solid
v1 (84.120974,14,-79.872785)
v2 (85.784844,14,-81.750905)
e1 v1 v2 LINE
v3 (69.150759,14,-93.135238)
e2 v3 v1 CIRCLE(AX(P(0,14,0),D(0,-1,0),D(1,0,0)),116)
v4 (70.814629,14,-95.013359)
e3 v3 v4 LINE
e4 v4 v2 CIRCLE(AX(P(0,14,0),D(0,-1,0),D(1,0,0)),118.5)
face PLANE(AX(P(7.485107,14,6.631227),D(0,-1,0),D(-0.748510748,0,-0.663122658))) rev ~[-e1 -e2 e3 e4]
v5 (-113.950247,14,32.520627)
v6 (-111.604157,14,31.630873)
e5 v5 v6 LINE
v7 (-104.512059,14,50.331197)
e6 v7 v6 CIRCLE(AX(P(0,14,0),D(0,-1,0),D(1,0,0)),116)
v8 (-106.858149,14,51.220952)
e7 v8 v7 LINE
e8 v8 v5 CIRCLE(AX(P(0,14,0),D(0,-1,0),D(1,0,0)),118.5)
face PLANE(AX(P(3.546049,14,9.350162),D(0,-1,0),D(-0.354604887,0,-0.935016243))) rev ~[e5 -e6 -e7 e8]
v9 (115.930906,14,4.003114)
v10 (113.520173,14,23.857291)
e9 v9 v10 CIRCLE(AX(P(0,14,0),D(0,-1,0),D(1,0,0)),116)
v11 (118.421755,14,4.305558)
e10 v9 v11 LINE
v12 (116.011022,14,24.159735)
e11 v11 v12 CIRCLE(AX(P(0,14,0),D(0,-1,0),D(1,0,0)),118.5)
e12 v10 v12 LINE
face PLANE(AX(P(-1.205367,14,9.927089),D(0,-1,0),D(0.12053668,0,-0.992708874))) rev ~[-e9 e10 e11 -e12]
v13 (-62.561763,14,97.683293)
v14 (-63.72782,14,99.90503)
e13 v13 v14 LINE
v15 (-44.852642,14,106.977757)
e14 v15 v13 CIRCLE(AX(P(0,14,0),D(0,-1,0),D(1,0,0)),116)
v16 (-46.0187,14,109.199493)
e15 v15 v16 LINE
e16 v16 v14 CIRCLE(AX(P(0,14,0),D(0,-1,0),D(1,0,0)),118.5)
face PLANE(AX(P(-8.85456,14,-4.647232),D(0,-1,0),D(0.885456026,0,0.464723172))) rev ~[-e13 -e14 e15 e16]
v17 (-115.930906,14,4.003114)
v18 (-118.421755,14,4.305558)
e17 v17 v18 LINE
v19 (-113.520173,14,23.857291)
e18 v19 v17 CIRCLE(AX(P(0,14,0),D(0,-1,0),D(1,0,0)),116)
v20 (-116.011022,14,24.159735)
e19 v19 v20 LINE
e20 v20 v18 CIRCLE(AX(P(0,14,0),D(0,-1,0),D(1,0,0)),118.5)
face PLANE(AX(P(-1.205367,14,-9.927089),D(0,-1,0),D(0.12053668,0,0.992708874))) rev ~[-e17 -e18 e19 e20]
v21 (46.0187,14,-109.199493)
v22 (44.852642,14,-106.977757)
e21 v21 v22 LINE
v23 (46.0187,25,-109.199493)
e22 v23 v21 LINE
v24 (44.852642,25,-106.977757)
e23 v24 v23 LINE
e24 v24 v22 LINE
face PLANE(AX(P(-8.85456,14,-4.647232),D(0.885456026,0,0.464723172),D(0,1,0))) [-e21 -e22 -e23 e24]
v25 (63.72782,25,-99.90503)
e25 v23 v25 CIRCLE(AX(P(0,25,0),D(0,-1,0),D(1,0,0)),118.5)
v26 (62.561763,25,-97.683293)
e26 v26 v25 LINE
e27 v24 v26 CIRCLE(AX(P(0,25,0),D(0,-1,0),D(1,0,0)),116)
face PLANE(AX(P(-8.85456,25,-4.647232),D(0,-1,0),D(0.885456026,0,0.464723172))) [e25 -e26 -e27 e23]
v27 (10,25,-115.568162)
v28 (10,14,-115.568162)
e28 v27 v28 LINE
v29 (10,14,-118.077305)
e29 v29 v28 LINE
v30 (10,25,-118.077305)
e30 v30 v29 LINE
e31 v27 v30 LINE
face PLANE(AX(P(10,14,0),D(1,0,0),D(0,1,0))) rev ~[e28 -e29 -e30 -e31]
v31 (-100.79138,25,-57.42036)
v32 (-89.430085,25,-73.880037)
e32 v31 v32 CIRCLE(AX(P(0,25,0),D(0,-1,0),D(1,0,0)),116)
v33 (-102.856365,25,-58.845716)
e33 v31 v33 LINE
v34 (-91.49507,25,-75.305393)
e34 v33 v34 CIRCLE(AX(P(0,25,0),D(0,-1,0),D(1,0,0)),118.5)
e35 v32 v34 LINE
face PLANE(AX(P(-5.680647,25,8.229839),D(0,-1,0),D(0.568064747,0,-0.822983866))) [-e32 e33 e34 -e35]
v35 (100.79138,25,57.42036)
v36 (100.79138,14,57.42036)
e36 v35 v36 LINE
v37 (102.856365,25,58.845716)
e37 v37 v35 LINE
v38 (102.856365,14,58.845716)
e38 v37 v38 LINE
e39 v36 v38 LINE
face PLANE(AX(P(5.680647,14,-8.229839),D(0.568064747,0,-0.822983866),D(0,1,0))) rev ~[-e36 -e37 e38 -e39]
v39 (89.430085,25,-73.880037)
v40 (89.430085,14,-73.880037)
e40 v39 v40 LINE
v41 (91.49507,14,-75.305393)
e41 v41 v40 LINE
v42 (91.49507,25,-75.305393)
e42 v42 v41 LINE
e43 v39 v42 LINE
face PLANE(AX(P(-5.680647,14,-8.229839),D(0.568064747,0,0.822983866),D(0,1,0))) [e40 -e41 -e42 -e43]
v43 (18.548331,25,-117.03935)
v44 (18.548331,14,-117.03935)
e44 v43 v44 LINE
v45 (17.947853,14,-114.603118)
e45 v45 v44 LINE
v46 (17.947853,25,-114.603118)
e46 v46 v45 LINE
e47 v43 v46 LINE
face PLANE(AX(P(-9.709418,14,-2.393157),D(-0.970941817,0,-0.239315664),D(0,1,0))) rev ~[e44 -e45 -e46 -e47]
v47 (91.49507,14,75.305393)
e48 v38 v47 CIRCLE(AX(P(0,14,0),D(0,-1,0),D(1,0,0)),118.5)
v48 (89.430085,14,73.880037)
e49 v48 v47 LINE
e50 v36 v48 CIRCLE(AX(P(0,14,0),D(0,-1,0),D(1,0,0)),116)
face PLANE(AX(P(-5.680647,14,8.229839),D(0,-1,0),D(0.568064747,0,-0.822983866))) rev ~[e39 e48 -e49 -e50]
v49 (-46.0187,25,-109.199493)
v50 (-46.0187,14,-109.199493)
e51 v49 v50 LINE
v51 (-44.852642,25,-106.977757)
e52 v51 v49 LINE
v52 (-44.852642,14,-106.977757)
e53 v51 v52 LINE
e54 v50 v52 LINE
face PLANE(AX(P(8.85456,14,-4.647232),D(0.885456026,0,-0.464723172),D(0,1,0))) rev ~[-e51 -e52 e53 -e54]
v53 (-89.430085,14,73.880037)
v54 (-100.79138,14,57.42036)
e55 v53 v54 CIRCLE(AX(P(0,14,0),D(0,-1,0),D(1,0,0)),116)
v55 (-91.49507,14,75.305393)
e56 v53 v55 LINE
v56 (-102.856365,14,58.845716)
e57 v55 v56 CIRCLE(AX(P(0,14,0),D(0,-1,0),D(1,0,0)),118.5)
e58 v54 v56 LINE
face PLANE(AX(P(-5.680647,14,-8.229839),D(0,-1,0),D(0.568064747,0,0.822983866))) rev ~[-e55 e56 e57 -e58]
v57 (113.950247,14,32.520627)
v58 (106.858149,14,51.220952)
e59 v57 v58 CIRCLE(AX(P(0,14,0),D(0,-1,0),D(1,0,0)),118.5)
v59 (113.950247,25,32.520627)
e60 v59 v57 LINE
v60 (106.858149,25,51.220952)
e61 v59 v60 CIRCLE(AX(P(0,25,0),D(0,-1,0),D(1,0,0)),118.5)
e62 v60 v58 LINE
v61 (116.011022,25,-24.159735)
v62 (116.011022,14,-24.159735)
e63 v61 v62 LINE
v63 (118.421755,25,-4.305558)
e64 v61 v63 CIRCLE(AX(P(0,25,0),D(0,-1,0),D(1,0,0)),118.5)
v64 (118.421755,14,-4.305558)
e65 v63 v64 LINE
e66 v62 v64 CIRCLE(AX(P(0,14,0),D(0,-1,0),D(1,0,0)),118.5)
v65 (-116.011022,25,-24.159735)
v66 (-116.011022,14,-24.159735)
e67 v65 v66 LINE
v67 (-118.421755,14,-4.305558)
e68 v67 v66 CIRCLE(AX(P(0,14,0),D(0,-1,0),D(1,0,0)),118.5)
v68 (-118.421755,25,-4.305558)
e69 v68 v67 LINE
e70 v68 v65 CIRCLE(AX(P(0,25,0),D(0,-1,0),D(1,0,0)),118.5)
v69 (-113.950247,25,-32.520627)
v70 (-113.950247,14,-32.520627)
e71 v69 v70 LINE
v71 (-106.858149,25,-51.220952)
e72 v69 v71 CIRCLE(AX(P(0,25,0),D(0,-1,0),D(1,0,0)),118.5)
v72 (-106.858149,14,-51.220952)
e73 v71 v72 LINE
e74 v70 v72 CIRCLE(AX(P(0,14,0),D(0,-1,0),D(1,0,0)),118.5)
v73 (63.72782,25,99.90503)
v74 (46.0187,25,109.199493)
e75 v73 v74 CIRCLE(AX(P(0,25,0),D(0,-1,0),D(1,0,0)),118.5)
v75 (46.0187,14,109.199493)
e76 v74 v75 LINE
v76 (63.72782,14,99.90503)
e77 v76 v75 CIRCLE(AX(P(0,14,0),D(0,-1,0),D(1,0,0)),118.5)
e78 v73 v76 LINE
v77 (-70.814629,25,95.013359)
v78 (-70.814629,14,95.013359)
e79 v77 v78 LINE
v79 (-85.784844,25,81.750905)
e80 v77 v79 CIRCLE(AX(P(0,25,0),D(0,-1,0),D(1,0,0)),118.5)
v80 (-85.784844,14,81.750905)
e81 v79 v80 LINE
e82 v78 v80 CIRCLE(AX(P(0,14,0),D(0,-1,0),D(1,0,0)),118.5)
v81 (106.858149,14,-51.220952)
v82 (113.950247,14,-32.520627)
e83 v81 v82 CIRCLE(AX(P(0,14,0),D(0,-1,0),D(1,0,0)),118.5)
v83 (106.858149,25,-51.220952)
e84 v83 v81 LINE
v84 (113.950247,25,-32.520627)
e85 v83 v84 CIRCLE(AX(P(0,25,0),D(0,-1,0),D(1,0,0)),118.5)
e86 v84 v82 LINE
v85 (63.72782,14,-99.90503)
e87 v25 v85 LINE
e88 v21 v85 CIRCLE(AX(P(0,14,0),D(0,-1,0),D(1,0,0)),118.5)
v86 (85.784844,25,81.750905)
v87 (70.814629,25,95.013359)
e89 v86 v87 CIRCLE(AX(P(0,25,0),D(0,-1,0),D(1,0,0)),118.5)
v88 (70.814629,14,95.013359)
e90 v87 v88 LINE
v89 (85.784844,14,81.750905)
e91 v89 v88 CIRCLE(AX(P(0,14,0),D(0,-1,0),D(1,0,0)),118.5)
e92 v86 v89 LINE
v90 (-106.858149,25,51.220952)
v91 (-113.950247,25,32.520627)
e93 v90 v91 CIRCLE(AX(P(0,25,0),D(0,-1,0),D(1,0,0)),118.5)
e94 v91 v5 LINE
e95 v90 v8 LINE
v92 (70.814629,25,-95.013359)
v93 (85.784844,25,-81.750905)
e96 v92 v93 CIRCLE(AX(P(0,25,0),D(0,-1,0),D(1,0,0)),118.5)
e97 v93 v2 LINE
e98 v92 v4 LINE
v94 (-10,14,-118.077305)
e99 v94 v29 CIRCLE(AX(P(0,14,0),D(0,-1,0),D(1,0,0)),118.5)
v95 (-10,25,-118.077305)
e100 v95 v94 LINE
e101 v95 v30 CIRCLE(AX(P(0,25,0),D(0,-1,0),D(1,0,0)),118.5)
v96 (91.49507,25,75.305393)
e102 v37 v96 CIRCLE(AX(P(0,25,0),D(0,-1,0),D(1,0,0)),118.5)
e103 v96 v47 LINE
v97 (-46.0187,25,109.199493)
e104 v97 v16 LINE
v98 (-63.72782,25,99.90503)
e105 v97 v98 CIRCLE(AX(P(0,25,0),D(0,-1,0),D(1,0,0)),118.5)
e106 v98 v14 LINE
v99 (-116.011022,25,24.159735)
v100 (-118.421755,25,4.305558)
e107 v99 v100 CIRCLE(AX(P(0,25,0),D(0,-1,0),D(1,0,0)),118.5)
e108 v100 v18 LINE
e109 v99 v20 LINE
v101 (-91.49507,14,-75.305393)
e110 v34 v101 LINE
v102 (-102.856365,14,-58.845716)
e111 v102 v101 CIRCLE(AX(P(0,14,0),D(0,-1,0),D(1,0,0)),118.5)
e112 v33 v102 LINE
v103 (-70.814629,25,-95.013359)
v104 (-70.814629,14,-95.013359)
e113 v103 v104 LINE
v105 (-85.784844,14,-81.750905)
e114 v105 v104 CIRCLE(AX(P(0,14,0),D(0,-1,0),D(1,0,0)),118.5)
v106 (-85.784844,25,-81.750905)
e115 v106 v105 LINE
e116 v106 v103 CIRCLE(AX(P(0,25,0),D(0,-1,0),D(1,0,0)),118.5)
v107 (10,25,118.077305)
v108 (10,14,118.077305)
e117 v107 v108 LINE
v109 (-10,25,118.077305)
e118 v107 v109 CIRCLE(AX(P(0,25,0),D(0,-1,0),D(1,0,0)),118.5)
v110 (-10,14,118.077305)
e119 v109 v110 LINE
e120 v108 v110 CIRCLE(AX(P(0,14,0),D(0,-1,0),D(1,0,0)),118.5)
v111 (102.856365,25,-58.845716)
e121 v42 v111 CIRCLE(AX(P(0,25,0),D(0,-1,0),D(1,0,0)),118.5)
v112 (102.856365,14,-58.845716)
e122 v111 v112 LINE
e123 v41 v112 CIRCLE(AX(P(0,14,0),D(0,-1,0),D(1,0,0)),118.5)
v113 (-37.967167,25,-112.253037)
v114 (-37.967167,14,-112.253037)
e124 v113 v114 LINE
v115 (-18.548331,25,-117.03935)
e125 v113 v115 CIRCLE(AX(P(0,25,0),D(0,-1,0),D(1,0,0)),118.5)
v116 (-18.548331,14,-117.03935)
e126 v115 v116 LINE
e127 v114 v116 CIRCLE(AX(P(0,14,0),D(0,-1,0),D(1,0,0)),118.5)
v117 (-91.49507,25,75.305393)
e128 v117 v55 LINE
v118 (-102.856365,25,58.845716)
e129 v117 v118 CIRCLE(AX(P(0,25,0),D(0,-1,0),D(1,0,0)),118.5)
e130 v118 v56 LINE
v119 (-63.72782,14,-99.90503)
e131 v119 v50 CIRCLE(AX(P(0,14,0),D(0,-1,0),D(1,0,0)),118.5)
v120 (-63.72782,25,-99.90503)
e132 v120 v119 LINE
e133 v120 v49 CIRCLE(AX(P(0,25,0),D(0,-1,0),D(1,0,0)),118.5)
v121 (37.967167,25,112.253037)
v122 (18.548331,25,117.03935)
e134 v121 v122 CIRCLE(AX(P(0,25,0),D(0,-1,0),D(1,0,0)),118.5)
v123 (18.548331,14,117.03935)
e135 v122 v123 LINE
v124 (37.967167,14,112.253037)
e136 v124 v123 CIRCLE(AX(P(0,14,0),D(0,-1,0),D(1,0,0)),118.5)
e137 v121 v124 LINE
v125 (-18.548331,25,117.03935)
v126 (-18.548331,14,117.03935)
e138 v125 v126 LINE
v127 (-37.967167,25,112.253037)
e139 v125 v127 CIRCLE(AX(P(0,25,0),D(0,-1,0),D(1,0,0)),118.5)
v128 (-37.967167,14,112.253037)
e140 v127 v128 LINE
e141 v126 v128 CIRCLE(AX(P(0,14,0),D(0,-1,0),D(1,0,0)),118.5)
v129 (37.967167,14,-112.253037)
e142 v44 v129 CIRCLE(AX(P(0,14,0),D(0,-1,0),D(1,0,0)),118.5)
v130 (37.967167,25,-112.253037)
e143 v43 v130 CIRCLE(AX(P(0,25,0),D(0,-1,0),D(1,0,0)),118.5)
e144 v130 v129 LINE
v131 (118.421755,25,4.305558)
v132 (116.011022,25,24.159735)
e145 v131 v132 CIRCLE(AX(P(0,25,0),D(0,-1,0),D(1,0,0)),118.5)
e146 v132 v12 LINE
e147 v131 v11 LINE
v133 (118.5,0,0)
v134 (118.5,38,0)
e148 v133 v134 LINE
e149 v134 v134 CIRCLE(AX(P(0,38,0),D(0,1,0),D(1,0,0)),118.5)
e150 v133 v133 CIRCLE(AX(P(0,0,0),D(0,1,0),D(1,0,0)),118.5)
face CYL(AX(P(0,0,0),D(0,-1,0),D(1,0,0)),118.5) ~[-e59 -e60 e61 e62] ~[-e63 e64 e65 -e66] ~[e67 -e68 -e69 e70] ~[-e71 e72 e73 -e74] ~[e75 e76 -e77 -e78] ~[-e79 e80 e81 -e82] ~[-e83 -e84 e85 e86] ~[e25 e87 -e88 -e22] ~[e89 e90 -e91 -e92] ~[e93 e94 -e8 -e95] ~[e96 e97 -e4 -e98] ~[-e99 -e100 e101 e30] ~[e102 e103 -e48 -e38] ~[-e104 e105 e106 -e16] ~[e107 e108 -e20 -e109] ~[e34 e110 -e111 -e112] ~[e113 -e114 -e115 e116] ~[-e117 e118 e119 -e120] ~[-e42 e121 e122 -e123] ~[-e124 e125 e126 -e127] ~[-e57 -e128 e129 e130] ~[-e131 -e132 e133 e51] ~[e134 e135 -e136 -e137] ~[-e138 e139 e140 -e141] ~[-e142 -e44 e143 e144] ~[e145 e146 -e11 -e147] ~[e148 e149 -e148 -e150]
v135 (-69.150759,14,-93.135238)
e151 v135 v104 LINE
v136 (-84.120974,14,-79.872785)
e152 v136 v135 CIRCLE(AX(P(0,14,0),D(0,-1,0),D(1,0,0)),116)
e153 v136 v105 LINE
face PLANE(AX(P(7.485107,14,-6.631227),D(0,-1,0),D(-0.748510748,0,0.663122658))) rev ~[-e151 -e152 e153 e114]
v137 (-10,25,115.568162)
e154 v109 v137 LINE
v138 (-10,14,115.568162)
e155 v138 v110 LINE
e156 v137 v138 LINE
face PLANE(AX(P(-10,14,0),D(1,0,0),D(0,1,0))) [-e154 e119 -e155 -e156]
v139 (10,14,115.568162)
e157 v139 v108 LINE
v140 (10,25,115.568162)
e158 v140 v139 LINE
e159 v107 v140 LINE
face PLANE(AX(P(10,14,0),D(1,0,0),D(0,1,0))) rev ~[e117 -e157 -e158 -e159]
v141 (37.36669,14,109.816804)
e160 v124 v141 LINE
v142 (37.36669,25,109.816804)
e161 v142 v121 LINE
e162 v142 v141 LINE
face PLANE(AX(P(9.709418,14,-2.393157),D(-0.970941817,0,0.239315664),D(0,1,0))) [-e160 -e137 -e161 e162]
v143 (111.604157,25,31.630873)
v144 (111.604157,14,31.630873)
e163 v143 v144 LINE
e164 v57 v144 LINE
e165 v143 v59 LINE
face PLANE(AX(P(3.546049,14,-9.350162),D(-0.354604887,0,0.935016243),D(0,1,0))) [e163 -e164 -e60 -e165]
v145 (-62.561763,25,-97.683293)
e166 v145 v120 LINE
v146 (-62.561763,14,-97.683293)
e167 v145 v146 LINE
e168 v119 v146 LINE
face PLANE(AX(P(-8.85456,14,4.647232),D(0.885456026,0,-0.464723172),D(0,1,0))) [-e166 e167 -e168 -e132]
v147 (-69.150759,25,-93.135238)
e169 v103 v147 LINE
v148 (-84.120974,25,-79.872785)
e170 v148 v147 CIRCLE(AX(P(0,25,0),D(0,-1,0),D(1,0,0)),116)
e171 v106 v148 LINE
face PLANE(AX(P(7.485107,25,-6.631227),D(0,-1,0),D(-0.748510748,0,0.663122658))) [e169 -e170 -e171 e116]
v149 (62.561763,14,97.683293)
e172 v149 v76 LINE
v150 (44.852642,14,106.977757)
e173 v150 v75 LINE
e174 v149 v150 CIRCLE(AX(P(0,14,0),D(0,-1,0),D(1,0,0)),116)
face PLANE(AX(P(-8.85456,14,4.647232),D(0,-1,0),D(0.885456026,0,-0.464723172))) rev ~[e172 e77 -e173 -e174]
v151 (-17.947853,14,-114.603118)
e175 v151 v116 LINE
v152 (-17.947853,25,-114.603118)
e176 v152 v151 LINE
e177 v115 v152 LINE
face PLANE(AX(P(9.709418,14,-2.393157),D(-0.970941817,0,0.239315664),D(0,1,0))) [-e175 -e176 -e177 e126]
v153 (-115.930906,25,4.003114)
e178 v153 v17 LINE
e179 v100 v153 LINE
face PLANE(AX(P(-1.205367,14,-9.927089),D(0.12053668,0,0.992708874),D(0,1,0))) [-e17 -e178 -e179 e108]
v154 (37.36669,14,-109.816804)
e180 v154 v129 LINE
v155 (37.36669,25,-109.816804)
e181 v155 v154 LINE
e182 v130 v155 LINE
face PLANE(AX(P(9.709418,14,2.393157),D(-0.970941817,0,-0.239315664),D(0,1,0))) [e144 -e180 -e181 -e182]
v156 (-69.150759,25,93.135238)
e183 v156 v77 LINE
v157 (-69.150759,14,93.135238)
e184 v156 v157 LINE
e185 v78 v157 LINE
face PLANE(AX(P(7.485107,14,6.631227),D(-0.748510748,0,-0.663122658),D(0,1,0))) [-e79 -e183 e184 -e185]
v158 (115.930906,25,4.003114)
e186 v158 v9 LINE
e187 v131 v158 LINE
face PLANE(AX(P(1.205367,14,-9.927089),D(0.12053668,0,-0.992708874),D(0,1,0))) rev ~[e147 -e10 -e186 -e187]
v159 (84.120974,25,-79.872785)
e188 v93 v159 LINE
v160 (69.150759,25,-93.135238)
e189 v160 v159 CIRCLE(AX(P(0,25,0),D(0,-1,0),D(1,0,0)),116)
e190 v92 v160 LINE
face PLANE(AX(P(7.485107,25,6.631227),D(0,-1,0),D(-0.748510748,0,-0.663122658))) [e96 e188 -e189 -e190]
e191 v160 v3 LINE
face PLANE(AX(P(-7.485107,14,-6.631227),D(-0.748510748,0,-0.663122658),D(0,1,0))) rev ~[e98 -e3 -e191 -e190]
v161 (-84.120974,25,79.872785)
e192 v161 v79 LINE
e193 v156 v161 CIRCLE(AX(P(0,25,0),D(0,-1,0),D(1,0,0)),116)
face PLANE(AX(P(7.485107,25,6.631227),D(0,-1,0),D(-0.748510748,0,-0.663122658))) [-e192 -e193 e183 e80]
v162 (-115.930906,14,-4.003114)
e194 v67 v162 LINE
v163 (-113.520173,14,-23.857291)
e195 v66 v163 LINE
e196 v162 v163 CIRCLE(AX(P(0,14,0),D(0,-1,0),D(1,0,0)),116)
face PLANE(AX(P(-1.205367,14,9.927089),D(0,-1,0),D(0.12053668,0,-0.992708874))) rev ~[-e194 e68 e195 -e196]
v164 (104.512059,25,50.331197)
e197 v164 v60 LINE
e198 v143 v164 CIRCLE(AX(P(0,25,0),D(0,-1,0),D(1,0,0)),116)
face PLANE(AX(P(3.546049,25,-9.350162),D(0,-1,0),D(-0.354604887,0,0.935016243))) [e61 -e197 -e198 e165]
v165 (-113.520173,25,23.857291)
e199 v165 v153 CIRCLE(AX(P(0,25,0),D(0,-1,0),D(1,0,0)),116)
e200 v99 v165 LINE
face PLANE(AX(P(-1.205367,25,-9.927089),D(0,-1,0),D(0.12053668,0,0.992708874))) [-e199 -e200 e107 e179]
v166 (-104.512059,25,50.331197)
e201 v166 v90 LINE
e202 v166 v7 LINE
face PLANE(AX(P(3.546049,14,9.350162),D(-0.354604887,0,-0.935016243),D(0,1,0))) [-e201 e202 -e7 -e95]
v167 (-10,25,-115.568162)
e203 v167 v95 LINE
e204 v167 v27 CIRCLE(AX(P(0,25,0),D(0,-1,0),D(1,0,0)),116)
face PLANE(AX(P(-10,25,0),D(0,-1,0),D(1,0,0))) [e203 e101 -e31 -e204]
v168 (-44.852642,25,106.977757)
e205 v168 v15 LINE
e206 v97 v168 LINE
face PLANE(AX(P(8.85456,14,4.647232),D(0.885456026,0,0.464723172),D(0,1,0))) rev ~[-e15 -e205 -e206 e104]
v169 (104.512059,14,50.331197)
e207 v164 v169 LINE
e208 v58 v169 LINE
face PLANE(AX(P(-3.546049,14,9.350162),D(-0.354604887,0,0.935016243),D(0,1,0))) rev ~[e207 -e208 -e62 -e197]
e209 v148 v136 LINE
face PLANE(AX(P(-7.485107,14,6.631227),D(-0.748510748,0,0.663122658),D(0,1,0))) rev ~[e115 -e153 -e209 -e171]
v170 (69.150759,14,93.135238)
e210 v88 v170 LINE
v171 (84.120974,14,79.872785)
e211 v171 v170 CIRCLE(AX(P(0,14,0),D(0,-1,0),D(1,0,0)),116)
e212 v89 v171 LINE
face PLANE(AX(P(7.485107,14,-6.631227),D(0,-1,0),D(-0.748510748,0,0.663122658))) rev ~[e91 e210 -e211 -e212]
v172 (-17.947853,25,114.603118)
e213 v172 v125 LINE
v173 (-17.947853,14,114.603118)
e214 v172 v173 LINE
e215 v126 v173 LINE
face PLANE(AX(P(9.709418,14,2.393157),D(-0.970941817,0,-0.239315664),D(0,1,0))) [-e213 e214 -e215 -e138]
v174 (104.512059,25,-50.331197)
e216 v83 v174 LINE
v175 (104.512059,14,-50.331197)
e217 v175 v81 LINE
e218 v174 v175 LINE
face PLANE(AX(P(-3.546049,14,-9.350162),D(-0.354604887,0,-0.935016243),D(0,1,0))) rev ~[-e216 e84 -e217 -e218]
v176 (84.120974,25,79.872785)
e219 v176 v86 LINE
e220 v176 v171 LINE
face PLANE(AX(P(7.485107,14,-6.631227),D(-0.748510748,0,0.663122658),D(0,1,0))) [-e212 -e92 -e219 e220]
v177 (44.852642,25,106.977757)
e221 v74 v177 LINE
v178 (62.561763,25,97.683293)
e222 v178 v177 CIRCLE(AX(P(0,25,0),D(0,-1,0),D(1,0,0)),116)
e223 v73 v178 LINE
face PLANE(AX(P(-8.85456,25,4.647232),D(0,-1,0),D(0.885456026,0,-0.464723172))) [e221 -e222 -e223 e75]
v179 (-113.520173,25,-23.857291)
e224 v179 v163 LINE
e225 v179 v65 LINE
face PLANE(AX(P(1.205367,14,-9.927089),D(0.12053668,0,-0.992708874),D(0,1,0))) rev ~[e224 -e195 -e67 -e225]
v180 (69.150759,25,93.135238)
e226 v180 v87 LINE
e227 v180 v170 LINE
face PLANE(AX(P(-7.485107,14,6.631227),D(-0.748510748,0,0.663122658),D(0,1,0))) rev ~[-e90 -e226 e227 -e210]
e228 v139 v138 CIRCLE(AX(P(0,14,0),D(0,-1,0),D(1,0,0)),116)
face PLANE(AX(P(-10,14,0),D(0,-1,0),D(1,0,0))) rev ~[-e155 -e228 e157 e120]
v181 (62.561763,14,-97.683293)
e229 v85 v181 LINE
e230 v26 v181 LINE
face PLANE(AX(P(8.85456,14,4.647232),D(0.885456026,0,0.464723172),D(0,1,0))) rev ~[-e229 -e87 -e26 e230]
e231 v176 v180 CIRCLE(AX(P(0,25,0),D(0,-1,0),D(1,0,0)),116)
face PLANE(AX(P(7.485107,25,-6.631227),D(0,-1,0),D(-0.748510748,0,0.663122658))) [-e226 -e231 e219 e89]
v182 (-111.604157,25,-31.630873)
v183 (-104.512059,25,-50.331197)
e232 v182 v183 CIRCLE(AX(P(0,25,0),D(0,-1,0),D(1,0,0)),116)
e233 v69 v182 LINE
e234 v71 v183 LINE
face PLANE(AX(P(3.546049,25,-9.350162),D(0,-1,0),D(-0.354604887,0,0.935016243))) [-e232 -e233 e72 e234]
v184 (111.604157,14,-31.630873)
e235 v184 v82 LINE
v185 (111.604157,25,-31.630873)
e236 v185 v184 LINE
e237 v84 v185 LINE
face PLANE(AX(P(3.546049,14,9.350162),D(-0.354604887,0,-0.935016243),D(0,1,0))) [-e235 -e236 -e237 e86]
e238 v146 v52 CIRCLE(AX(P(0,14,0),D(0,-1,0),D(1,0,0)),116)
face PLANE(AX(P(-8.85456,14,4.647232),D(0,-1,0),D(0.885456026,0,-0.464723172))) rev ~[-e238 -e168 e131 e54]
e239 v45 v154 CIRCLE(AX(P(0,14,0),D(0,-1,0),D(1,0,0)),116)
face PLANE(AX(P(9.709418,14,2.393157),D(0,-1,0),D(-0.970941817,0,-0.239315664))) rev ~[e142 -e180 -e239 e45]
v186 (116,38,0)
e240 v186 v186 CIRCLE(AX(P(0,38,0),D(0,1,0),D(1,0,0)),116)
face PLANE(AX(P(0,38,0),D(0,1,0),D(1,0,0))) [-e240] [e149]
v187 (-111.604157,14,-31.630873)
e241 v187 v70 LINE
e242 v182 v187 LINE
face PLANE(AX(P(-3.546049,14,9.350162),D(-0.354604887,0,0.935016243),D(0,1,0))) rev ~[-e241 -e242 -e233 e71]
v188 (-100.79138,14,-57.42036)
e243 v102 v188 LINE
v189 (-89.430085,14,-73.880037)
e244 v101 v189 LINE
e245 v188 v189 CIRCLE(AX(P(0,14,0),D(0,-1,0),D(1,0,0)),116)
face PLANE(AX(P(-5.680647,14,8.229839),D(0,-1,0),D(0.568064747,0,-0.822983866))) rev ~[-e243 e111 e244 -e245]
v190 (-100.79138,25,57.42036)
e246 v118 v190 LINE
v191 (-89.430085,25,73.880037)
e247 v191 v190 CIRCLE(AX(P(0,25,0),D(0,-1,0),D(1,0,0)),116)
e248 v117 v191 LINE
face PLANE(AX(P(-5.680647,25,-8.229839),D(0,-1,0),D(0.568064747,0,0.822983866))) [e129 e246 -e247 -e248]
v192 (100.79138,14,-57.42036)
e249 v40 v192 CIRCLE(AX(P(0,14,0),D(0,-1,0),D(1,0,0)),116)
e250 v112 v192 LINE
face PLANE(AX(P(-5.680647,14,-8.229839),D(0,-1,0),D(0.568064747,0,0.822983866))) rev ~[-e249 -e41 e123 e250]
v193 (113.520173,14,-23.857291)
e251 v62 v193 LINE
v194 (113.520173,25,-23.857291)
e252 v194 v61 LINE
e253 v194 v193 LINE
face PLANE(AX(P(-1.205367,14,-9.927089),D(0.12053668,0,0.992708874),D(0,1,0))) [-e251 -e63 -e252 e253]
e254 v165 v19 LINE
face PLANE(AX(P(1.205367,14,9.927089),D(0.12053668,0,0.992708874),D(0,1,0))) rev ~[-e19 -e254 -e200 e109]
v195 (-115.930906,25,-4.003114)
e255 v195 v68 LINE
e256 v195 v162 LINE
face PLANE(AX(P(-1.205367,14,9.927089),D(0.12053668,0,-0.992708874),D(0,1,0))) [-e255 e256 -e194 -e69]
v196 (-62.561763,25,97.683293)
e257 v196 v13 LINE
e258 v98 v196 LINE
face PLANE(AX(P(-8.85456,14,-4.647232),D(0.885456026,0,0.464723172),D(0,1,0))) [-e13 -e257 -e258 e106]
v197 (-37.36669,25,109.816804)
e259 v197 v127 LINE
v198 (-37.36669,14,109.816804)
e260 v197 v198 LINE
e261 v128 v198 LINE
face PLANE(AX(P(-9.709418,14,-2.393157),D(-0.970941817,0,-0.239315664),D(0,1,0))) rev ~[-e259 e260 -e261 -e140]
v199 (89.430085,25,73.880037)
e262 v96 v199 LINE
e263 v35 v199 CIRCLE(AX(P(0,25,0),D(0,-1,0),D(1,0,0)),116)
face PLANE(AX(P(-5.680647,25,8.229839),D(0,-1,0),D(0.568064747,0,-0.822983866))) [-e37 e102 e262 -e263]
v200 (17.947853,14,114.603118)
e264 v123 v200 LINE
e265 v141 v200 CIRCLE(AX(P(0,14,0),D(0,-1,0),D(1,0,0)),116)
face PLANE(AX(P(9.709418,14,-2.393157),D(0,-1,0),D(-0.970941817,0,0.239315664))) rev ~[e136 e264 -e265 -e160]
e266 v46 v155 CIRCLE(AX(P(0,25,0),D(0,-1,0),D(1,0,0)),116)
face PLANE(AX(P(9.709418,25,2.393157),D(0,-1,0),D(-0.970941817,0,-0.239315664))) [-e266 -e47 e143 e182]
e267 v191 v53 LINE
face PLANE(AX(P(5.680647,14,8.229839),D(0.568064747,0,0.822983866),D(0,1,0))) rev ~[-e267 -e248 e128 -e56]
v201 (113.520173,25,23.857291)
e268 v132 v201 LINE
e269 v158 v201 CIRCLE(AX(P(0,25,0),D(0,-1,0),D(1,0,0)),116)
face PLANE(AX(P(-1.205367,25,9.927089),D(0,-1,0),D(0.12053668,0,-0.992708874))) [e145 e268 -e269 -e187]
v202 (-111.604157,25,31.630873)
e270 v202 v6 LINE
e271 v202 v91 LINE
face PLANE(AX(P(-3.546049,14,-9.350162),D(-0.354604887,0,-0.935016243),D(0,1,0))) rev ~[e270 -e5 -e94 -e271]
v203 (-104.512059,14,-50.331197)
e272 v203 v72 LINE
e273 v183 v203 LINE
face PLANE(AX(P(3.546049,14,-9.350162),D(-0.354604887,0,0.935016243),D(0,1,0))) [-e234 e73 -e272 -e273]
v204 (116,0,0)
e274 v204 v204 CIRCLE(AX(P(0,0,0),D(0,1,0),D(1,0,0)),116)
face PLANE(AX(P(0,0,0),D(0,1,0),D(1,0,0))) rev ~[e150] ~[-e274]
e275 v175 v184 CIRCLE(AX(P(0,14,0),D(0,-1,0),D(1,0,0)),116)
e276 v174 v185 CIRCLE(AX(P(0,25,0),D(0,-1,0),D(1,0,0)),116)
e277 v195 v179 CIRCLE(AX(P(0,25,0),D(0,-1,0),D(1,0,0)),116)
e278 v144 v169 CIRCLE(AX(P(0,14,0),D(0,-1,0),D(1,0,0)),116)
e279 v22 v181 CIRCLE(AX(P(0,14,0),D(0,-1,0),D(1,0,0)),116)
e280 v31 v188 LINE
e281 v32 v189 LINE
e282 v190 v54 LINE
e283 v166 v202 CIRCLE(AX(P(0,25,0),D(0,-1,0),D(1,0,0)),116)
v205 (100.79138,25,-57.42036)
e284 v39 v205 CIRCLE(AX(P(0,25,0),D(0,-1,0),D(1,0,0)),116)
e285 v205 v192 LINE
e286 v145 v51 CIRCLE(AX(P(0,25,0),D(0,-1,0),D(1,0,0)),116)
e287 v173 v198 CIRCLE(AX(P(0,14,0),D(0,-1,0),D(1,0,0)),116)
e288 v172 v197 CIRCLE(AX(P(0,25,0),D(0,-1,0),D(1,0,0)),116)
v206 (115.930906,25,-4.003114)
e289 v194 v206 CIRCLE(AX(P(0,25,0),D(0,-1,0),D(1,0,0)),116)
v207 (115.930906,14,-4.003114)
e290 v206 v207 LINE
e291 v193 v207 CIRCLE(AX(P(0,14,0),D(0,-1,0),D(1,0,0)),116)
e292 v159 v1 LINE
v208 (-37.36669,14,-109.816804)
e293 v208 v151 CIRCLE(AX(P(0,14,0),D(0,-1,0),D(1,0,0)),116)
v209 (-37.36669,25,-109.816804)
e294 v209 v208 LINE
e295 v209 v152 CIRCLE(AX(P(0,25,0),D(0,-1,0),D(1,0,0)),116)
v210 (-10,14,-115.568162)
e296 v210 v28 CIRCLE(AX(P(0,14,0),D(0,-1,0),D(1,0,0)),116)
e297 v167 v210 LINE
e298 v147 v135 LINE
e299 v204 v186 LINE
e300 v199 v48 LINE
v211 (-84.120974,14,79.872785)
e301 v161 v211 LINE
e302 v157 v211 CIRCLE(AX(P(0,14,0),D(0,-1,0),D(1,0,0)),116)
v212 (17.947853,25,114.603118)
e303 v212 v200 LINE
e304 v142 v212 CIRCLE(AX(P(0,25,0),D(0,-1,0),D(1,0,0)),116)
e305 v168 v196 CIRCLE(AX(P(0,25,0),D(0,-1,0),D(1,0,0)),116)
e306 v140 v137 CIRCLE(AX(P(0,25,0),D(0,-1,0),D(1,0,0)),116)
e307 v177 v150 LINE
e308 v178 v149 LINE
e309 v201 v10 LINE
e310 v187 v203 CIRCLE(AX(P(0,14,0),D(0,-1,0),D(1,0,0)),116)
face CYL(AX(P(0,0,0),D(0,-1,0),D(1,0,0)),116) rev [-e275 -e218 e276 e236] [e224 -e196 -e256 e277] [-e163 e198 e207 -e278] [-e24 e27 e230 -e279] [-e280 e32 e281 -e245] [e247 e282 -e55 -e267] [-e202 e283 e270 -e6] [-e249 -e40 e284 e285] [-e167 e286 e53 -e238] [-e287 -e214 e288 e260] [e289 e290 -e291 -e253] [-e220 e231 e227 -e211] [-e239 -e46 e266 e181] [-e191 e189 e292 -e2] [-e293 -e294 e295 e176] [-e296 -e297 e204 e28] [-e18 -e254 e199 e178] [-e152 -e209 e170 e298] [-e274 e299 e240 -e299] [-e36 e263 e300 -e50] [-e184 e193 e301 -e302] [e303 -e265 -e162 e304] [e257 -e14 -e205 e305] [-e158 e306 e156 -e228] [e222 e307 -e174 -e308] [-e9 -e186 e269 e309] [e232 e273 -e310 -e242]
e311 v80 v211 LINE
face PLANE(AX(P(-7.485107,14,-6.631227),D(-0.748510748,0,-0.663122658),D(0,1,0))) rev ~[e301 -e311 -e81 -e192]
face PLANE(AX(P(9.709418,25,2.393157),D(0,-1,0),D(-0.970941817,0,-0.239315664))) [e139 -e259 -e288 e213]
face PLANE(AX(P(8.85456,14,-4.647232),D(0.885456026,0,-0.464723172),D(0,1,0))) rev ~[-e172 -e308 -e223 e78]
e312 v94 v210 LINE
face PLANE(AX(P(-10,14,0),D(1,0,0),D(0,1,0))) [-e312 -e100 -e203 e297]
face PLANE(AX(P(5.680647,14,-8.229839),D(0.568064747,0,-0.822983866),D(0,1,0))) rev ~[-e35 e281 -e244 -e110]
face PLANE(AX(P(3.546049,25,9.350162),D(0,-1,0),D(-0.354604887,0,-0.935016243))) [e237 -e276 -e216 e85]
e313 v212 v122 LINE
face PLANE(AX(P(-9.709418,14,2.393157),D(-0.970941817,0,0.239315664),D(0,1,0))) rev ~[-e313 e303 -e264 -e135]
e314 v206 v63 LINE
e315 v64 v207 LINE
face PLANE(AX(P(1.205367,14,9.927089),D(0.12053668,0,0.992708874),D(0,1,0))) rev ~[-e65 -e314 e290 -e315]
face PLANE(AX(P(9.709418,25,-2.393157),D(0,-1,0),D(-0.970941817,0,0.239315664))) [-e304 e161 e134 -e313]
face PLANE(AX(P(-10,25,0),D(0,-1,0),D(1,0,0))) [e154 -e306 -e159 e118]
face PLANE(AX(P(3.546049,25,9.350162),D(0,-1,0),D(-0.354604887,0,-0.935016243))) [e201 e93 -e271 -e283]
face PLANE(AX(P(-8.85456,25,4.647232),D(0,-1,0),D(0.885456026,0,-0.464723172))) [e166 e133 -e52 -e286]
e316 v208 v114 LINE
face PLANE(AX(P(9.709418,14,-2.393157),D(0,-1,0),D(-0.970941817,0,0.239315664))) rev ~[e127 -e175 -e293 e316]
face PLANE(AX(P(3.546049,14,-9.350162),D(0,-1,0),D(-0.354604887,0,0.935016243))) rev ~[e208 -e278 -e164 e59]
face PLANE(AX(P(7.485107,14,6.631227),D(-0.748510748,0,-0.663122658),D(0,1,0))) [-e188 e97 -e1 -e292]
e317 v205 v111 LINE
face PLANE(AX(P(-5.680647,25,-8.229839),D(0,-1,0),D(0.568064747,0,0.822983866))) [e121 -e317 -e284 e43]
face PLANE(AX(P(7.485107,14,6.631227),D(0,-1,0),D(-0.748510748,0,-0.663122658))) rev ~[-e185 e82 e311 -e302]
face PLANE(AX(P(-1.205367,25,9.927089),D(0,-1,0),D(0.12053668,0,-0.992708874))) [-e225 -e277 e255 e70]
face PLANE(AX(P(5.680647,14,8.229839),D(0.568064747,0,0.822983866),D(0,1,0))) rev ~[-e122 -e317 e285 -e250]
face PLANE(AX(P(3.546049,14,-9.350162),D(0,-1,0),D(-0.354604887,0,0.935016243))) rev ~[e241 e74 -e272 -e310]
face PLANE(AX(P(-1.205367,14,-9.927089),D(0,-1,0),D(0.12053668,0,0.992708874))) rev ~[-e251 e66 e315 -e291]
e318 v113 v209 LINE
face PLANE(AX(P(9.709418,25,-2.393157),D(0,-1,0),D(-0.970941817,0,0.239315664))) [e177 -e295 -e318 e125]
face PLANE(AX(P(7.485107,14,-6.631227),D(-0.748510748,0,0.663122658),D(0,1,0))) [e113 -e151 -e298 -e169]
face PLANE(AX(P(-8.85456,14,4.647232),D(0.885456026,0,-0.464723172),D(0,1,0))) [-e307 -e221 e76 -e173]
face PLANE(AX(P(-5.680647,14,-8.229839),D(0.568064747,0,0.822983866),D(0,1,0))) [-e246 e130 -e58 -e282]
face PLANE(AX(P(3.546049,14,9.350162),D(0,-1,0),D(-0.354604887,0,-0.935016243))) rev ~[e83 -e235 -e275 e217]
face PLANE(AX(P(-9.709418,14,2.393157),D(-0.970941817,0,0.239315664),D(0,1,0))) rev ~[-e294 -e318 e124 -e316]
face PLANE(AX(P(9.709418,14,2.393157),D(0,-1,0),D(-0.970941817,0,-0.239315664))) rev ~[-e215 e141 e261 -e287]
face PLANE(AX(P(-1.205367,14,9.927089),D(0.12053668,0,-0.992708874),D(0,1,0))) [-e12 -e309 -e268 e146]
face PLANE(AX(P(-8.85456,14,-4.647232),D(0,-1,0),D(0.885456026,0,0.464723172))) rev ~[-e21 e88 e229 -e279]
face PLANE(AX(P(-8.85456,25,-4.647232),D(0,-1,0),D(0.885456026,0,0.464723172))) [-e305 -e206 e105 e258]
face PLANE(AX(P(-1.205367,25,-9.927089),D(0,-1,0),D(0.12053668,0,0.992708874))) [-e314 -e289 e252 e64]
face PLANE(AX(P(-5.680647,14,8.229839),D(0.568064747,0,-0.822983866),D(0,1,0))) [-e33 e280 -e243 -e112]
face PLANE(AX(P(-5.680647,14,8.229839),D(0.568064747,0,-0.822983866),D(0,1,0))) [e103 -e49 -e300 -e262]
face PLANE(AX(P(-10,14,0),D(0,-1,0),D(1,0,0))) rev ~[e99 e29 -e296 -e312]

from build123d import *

# Parameters (mm, degrees)
SKETCH1_R           = 118.5
SKETCH1_R_2         = 116
BOSS_EXTRUDE1_DEPTH = 38
SKETCH2_W           = 20
SKETCH2_H           = 11
CUT_EXTRUDE1_DEPTH  = 119.5
CIRPATTERN1_COUNT   = 13


with BuildPart() as part:
    # Sketch1 → Boss-Extrude1 (new body)
    with BuildSketch(Plane(origin=(0, 0, 0), x_dir=(1, 0, 0), z_dir=(0, 1, 0))):
        Circle(SKETCH1_R)
        Circle(SKETCH1_R_2, mode=Mode.SUBTRACT)
    extrude(amount=BOSS_EXTRUDE1_DEPTH)

    # Sketch2 → Cut-Extrude1 (cut, symmetric)
    with BuildSketch(Plane.XY):
        with Locations((0, 19.5)):
            Rectangle(SKETCH2_W, SKETCH2_H)
    cut_extrude1 = extrude(amount=CUT_EXTRUDE1_DEPTH, both=True, mode=Mode.SUBTRACT)

    # CirPattern1: Cut-Extrude1 ×13 about axis
    cirpattern1_axis = Axis((0, 0, 0), (0, 1, 0))
    for i in range(1, CIRPATTERN1_COUNT):
        add(cut_extrude1.rotate(cirpattern1_axis, i * 360 / CIRPATTERN1_COUNT), mode=Mode.SUBTRACT)


solid = part.part
